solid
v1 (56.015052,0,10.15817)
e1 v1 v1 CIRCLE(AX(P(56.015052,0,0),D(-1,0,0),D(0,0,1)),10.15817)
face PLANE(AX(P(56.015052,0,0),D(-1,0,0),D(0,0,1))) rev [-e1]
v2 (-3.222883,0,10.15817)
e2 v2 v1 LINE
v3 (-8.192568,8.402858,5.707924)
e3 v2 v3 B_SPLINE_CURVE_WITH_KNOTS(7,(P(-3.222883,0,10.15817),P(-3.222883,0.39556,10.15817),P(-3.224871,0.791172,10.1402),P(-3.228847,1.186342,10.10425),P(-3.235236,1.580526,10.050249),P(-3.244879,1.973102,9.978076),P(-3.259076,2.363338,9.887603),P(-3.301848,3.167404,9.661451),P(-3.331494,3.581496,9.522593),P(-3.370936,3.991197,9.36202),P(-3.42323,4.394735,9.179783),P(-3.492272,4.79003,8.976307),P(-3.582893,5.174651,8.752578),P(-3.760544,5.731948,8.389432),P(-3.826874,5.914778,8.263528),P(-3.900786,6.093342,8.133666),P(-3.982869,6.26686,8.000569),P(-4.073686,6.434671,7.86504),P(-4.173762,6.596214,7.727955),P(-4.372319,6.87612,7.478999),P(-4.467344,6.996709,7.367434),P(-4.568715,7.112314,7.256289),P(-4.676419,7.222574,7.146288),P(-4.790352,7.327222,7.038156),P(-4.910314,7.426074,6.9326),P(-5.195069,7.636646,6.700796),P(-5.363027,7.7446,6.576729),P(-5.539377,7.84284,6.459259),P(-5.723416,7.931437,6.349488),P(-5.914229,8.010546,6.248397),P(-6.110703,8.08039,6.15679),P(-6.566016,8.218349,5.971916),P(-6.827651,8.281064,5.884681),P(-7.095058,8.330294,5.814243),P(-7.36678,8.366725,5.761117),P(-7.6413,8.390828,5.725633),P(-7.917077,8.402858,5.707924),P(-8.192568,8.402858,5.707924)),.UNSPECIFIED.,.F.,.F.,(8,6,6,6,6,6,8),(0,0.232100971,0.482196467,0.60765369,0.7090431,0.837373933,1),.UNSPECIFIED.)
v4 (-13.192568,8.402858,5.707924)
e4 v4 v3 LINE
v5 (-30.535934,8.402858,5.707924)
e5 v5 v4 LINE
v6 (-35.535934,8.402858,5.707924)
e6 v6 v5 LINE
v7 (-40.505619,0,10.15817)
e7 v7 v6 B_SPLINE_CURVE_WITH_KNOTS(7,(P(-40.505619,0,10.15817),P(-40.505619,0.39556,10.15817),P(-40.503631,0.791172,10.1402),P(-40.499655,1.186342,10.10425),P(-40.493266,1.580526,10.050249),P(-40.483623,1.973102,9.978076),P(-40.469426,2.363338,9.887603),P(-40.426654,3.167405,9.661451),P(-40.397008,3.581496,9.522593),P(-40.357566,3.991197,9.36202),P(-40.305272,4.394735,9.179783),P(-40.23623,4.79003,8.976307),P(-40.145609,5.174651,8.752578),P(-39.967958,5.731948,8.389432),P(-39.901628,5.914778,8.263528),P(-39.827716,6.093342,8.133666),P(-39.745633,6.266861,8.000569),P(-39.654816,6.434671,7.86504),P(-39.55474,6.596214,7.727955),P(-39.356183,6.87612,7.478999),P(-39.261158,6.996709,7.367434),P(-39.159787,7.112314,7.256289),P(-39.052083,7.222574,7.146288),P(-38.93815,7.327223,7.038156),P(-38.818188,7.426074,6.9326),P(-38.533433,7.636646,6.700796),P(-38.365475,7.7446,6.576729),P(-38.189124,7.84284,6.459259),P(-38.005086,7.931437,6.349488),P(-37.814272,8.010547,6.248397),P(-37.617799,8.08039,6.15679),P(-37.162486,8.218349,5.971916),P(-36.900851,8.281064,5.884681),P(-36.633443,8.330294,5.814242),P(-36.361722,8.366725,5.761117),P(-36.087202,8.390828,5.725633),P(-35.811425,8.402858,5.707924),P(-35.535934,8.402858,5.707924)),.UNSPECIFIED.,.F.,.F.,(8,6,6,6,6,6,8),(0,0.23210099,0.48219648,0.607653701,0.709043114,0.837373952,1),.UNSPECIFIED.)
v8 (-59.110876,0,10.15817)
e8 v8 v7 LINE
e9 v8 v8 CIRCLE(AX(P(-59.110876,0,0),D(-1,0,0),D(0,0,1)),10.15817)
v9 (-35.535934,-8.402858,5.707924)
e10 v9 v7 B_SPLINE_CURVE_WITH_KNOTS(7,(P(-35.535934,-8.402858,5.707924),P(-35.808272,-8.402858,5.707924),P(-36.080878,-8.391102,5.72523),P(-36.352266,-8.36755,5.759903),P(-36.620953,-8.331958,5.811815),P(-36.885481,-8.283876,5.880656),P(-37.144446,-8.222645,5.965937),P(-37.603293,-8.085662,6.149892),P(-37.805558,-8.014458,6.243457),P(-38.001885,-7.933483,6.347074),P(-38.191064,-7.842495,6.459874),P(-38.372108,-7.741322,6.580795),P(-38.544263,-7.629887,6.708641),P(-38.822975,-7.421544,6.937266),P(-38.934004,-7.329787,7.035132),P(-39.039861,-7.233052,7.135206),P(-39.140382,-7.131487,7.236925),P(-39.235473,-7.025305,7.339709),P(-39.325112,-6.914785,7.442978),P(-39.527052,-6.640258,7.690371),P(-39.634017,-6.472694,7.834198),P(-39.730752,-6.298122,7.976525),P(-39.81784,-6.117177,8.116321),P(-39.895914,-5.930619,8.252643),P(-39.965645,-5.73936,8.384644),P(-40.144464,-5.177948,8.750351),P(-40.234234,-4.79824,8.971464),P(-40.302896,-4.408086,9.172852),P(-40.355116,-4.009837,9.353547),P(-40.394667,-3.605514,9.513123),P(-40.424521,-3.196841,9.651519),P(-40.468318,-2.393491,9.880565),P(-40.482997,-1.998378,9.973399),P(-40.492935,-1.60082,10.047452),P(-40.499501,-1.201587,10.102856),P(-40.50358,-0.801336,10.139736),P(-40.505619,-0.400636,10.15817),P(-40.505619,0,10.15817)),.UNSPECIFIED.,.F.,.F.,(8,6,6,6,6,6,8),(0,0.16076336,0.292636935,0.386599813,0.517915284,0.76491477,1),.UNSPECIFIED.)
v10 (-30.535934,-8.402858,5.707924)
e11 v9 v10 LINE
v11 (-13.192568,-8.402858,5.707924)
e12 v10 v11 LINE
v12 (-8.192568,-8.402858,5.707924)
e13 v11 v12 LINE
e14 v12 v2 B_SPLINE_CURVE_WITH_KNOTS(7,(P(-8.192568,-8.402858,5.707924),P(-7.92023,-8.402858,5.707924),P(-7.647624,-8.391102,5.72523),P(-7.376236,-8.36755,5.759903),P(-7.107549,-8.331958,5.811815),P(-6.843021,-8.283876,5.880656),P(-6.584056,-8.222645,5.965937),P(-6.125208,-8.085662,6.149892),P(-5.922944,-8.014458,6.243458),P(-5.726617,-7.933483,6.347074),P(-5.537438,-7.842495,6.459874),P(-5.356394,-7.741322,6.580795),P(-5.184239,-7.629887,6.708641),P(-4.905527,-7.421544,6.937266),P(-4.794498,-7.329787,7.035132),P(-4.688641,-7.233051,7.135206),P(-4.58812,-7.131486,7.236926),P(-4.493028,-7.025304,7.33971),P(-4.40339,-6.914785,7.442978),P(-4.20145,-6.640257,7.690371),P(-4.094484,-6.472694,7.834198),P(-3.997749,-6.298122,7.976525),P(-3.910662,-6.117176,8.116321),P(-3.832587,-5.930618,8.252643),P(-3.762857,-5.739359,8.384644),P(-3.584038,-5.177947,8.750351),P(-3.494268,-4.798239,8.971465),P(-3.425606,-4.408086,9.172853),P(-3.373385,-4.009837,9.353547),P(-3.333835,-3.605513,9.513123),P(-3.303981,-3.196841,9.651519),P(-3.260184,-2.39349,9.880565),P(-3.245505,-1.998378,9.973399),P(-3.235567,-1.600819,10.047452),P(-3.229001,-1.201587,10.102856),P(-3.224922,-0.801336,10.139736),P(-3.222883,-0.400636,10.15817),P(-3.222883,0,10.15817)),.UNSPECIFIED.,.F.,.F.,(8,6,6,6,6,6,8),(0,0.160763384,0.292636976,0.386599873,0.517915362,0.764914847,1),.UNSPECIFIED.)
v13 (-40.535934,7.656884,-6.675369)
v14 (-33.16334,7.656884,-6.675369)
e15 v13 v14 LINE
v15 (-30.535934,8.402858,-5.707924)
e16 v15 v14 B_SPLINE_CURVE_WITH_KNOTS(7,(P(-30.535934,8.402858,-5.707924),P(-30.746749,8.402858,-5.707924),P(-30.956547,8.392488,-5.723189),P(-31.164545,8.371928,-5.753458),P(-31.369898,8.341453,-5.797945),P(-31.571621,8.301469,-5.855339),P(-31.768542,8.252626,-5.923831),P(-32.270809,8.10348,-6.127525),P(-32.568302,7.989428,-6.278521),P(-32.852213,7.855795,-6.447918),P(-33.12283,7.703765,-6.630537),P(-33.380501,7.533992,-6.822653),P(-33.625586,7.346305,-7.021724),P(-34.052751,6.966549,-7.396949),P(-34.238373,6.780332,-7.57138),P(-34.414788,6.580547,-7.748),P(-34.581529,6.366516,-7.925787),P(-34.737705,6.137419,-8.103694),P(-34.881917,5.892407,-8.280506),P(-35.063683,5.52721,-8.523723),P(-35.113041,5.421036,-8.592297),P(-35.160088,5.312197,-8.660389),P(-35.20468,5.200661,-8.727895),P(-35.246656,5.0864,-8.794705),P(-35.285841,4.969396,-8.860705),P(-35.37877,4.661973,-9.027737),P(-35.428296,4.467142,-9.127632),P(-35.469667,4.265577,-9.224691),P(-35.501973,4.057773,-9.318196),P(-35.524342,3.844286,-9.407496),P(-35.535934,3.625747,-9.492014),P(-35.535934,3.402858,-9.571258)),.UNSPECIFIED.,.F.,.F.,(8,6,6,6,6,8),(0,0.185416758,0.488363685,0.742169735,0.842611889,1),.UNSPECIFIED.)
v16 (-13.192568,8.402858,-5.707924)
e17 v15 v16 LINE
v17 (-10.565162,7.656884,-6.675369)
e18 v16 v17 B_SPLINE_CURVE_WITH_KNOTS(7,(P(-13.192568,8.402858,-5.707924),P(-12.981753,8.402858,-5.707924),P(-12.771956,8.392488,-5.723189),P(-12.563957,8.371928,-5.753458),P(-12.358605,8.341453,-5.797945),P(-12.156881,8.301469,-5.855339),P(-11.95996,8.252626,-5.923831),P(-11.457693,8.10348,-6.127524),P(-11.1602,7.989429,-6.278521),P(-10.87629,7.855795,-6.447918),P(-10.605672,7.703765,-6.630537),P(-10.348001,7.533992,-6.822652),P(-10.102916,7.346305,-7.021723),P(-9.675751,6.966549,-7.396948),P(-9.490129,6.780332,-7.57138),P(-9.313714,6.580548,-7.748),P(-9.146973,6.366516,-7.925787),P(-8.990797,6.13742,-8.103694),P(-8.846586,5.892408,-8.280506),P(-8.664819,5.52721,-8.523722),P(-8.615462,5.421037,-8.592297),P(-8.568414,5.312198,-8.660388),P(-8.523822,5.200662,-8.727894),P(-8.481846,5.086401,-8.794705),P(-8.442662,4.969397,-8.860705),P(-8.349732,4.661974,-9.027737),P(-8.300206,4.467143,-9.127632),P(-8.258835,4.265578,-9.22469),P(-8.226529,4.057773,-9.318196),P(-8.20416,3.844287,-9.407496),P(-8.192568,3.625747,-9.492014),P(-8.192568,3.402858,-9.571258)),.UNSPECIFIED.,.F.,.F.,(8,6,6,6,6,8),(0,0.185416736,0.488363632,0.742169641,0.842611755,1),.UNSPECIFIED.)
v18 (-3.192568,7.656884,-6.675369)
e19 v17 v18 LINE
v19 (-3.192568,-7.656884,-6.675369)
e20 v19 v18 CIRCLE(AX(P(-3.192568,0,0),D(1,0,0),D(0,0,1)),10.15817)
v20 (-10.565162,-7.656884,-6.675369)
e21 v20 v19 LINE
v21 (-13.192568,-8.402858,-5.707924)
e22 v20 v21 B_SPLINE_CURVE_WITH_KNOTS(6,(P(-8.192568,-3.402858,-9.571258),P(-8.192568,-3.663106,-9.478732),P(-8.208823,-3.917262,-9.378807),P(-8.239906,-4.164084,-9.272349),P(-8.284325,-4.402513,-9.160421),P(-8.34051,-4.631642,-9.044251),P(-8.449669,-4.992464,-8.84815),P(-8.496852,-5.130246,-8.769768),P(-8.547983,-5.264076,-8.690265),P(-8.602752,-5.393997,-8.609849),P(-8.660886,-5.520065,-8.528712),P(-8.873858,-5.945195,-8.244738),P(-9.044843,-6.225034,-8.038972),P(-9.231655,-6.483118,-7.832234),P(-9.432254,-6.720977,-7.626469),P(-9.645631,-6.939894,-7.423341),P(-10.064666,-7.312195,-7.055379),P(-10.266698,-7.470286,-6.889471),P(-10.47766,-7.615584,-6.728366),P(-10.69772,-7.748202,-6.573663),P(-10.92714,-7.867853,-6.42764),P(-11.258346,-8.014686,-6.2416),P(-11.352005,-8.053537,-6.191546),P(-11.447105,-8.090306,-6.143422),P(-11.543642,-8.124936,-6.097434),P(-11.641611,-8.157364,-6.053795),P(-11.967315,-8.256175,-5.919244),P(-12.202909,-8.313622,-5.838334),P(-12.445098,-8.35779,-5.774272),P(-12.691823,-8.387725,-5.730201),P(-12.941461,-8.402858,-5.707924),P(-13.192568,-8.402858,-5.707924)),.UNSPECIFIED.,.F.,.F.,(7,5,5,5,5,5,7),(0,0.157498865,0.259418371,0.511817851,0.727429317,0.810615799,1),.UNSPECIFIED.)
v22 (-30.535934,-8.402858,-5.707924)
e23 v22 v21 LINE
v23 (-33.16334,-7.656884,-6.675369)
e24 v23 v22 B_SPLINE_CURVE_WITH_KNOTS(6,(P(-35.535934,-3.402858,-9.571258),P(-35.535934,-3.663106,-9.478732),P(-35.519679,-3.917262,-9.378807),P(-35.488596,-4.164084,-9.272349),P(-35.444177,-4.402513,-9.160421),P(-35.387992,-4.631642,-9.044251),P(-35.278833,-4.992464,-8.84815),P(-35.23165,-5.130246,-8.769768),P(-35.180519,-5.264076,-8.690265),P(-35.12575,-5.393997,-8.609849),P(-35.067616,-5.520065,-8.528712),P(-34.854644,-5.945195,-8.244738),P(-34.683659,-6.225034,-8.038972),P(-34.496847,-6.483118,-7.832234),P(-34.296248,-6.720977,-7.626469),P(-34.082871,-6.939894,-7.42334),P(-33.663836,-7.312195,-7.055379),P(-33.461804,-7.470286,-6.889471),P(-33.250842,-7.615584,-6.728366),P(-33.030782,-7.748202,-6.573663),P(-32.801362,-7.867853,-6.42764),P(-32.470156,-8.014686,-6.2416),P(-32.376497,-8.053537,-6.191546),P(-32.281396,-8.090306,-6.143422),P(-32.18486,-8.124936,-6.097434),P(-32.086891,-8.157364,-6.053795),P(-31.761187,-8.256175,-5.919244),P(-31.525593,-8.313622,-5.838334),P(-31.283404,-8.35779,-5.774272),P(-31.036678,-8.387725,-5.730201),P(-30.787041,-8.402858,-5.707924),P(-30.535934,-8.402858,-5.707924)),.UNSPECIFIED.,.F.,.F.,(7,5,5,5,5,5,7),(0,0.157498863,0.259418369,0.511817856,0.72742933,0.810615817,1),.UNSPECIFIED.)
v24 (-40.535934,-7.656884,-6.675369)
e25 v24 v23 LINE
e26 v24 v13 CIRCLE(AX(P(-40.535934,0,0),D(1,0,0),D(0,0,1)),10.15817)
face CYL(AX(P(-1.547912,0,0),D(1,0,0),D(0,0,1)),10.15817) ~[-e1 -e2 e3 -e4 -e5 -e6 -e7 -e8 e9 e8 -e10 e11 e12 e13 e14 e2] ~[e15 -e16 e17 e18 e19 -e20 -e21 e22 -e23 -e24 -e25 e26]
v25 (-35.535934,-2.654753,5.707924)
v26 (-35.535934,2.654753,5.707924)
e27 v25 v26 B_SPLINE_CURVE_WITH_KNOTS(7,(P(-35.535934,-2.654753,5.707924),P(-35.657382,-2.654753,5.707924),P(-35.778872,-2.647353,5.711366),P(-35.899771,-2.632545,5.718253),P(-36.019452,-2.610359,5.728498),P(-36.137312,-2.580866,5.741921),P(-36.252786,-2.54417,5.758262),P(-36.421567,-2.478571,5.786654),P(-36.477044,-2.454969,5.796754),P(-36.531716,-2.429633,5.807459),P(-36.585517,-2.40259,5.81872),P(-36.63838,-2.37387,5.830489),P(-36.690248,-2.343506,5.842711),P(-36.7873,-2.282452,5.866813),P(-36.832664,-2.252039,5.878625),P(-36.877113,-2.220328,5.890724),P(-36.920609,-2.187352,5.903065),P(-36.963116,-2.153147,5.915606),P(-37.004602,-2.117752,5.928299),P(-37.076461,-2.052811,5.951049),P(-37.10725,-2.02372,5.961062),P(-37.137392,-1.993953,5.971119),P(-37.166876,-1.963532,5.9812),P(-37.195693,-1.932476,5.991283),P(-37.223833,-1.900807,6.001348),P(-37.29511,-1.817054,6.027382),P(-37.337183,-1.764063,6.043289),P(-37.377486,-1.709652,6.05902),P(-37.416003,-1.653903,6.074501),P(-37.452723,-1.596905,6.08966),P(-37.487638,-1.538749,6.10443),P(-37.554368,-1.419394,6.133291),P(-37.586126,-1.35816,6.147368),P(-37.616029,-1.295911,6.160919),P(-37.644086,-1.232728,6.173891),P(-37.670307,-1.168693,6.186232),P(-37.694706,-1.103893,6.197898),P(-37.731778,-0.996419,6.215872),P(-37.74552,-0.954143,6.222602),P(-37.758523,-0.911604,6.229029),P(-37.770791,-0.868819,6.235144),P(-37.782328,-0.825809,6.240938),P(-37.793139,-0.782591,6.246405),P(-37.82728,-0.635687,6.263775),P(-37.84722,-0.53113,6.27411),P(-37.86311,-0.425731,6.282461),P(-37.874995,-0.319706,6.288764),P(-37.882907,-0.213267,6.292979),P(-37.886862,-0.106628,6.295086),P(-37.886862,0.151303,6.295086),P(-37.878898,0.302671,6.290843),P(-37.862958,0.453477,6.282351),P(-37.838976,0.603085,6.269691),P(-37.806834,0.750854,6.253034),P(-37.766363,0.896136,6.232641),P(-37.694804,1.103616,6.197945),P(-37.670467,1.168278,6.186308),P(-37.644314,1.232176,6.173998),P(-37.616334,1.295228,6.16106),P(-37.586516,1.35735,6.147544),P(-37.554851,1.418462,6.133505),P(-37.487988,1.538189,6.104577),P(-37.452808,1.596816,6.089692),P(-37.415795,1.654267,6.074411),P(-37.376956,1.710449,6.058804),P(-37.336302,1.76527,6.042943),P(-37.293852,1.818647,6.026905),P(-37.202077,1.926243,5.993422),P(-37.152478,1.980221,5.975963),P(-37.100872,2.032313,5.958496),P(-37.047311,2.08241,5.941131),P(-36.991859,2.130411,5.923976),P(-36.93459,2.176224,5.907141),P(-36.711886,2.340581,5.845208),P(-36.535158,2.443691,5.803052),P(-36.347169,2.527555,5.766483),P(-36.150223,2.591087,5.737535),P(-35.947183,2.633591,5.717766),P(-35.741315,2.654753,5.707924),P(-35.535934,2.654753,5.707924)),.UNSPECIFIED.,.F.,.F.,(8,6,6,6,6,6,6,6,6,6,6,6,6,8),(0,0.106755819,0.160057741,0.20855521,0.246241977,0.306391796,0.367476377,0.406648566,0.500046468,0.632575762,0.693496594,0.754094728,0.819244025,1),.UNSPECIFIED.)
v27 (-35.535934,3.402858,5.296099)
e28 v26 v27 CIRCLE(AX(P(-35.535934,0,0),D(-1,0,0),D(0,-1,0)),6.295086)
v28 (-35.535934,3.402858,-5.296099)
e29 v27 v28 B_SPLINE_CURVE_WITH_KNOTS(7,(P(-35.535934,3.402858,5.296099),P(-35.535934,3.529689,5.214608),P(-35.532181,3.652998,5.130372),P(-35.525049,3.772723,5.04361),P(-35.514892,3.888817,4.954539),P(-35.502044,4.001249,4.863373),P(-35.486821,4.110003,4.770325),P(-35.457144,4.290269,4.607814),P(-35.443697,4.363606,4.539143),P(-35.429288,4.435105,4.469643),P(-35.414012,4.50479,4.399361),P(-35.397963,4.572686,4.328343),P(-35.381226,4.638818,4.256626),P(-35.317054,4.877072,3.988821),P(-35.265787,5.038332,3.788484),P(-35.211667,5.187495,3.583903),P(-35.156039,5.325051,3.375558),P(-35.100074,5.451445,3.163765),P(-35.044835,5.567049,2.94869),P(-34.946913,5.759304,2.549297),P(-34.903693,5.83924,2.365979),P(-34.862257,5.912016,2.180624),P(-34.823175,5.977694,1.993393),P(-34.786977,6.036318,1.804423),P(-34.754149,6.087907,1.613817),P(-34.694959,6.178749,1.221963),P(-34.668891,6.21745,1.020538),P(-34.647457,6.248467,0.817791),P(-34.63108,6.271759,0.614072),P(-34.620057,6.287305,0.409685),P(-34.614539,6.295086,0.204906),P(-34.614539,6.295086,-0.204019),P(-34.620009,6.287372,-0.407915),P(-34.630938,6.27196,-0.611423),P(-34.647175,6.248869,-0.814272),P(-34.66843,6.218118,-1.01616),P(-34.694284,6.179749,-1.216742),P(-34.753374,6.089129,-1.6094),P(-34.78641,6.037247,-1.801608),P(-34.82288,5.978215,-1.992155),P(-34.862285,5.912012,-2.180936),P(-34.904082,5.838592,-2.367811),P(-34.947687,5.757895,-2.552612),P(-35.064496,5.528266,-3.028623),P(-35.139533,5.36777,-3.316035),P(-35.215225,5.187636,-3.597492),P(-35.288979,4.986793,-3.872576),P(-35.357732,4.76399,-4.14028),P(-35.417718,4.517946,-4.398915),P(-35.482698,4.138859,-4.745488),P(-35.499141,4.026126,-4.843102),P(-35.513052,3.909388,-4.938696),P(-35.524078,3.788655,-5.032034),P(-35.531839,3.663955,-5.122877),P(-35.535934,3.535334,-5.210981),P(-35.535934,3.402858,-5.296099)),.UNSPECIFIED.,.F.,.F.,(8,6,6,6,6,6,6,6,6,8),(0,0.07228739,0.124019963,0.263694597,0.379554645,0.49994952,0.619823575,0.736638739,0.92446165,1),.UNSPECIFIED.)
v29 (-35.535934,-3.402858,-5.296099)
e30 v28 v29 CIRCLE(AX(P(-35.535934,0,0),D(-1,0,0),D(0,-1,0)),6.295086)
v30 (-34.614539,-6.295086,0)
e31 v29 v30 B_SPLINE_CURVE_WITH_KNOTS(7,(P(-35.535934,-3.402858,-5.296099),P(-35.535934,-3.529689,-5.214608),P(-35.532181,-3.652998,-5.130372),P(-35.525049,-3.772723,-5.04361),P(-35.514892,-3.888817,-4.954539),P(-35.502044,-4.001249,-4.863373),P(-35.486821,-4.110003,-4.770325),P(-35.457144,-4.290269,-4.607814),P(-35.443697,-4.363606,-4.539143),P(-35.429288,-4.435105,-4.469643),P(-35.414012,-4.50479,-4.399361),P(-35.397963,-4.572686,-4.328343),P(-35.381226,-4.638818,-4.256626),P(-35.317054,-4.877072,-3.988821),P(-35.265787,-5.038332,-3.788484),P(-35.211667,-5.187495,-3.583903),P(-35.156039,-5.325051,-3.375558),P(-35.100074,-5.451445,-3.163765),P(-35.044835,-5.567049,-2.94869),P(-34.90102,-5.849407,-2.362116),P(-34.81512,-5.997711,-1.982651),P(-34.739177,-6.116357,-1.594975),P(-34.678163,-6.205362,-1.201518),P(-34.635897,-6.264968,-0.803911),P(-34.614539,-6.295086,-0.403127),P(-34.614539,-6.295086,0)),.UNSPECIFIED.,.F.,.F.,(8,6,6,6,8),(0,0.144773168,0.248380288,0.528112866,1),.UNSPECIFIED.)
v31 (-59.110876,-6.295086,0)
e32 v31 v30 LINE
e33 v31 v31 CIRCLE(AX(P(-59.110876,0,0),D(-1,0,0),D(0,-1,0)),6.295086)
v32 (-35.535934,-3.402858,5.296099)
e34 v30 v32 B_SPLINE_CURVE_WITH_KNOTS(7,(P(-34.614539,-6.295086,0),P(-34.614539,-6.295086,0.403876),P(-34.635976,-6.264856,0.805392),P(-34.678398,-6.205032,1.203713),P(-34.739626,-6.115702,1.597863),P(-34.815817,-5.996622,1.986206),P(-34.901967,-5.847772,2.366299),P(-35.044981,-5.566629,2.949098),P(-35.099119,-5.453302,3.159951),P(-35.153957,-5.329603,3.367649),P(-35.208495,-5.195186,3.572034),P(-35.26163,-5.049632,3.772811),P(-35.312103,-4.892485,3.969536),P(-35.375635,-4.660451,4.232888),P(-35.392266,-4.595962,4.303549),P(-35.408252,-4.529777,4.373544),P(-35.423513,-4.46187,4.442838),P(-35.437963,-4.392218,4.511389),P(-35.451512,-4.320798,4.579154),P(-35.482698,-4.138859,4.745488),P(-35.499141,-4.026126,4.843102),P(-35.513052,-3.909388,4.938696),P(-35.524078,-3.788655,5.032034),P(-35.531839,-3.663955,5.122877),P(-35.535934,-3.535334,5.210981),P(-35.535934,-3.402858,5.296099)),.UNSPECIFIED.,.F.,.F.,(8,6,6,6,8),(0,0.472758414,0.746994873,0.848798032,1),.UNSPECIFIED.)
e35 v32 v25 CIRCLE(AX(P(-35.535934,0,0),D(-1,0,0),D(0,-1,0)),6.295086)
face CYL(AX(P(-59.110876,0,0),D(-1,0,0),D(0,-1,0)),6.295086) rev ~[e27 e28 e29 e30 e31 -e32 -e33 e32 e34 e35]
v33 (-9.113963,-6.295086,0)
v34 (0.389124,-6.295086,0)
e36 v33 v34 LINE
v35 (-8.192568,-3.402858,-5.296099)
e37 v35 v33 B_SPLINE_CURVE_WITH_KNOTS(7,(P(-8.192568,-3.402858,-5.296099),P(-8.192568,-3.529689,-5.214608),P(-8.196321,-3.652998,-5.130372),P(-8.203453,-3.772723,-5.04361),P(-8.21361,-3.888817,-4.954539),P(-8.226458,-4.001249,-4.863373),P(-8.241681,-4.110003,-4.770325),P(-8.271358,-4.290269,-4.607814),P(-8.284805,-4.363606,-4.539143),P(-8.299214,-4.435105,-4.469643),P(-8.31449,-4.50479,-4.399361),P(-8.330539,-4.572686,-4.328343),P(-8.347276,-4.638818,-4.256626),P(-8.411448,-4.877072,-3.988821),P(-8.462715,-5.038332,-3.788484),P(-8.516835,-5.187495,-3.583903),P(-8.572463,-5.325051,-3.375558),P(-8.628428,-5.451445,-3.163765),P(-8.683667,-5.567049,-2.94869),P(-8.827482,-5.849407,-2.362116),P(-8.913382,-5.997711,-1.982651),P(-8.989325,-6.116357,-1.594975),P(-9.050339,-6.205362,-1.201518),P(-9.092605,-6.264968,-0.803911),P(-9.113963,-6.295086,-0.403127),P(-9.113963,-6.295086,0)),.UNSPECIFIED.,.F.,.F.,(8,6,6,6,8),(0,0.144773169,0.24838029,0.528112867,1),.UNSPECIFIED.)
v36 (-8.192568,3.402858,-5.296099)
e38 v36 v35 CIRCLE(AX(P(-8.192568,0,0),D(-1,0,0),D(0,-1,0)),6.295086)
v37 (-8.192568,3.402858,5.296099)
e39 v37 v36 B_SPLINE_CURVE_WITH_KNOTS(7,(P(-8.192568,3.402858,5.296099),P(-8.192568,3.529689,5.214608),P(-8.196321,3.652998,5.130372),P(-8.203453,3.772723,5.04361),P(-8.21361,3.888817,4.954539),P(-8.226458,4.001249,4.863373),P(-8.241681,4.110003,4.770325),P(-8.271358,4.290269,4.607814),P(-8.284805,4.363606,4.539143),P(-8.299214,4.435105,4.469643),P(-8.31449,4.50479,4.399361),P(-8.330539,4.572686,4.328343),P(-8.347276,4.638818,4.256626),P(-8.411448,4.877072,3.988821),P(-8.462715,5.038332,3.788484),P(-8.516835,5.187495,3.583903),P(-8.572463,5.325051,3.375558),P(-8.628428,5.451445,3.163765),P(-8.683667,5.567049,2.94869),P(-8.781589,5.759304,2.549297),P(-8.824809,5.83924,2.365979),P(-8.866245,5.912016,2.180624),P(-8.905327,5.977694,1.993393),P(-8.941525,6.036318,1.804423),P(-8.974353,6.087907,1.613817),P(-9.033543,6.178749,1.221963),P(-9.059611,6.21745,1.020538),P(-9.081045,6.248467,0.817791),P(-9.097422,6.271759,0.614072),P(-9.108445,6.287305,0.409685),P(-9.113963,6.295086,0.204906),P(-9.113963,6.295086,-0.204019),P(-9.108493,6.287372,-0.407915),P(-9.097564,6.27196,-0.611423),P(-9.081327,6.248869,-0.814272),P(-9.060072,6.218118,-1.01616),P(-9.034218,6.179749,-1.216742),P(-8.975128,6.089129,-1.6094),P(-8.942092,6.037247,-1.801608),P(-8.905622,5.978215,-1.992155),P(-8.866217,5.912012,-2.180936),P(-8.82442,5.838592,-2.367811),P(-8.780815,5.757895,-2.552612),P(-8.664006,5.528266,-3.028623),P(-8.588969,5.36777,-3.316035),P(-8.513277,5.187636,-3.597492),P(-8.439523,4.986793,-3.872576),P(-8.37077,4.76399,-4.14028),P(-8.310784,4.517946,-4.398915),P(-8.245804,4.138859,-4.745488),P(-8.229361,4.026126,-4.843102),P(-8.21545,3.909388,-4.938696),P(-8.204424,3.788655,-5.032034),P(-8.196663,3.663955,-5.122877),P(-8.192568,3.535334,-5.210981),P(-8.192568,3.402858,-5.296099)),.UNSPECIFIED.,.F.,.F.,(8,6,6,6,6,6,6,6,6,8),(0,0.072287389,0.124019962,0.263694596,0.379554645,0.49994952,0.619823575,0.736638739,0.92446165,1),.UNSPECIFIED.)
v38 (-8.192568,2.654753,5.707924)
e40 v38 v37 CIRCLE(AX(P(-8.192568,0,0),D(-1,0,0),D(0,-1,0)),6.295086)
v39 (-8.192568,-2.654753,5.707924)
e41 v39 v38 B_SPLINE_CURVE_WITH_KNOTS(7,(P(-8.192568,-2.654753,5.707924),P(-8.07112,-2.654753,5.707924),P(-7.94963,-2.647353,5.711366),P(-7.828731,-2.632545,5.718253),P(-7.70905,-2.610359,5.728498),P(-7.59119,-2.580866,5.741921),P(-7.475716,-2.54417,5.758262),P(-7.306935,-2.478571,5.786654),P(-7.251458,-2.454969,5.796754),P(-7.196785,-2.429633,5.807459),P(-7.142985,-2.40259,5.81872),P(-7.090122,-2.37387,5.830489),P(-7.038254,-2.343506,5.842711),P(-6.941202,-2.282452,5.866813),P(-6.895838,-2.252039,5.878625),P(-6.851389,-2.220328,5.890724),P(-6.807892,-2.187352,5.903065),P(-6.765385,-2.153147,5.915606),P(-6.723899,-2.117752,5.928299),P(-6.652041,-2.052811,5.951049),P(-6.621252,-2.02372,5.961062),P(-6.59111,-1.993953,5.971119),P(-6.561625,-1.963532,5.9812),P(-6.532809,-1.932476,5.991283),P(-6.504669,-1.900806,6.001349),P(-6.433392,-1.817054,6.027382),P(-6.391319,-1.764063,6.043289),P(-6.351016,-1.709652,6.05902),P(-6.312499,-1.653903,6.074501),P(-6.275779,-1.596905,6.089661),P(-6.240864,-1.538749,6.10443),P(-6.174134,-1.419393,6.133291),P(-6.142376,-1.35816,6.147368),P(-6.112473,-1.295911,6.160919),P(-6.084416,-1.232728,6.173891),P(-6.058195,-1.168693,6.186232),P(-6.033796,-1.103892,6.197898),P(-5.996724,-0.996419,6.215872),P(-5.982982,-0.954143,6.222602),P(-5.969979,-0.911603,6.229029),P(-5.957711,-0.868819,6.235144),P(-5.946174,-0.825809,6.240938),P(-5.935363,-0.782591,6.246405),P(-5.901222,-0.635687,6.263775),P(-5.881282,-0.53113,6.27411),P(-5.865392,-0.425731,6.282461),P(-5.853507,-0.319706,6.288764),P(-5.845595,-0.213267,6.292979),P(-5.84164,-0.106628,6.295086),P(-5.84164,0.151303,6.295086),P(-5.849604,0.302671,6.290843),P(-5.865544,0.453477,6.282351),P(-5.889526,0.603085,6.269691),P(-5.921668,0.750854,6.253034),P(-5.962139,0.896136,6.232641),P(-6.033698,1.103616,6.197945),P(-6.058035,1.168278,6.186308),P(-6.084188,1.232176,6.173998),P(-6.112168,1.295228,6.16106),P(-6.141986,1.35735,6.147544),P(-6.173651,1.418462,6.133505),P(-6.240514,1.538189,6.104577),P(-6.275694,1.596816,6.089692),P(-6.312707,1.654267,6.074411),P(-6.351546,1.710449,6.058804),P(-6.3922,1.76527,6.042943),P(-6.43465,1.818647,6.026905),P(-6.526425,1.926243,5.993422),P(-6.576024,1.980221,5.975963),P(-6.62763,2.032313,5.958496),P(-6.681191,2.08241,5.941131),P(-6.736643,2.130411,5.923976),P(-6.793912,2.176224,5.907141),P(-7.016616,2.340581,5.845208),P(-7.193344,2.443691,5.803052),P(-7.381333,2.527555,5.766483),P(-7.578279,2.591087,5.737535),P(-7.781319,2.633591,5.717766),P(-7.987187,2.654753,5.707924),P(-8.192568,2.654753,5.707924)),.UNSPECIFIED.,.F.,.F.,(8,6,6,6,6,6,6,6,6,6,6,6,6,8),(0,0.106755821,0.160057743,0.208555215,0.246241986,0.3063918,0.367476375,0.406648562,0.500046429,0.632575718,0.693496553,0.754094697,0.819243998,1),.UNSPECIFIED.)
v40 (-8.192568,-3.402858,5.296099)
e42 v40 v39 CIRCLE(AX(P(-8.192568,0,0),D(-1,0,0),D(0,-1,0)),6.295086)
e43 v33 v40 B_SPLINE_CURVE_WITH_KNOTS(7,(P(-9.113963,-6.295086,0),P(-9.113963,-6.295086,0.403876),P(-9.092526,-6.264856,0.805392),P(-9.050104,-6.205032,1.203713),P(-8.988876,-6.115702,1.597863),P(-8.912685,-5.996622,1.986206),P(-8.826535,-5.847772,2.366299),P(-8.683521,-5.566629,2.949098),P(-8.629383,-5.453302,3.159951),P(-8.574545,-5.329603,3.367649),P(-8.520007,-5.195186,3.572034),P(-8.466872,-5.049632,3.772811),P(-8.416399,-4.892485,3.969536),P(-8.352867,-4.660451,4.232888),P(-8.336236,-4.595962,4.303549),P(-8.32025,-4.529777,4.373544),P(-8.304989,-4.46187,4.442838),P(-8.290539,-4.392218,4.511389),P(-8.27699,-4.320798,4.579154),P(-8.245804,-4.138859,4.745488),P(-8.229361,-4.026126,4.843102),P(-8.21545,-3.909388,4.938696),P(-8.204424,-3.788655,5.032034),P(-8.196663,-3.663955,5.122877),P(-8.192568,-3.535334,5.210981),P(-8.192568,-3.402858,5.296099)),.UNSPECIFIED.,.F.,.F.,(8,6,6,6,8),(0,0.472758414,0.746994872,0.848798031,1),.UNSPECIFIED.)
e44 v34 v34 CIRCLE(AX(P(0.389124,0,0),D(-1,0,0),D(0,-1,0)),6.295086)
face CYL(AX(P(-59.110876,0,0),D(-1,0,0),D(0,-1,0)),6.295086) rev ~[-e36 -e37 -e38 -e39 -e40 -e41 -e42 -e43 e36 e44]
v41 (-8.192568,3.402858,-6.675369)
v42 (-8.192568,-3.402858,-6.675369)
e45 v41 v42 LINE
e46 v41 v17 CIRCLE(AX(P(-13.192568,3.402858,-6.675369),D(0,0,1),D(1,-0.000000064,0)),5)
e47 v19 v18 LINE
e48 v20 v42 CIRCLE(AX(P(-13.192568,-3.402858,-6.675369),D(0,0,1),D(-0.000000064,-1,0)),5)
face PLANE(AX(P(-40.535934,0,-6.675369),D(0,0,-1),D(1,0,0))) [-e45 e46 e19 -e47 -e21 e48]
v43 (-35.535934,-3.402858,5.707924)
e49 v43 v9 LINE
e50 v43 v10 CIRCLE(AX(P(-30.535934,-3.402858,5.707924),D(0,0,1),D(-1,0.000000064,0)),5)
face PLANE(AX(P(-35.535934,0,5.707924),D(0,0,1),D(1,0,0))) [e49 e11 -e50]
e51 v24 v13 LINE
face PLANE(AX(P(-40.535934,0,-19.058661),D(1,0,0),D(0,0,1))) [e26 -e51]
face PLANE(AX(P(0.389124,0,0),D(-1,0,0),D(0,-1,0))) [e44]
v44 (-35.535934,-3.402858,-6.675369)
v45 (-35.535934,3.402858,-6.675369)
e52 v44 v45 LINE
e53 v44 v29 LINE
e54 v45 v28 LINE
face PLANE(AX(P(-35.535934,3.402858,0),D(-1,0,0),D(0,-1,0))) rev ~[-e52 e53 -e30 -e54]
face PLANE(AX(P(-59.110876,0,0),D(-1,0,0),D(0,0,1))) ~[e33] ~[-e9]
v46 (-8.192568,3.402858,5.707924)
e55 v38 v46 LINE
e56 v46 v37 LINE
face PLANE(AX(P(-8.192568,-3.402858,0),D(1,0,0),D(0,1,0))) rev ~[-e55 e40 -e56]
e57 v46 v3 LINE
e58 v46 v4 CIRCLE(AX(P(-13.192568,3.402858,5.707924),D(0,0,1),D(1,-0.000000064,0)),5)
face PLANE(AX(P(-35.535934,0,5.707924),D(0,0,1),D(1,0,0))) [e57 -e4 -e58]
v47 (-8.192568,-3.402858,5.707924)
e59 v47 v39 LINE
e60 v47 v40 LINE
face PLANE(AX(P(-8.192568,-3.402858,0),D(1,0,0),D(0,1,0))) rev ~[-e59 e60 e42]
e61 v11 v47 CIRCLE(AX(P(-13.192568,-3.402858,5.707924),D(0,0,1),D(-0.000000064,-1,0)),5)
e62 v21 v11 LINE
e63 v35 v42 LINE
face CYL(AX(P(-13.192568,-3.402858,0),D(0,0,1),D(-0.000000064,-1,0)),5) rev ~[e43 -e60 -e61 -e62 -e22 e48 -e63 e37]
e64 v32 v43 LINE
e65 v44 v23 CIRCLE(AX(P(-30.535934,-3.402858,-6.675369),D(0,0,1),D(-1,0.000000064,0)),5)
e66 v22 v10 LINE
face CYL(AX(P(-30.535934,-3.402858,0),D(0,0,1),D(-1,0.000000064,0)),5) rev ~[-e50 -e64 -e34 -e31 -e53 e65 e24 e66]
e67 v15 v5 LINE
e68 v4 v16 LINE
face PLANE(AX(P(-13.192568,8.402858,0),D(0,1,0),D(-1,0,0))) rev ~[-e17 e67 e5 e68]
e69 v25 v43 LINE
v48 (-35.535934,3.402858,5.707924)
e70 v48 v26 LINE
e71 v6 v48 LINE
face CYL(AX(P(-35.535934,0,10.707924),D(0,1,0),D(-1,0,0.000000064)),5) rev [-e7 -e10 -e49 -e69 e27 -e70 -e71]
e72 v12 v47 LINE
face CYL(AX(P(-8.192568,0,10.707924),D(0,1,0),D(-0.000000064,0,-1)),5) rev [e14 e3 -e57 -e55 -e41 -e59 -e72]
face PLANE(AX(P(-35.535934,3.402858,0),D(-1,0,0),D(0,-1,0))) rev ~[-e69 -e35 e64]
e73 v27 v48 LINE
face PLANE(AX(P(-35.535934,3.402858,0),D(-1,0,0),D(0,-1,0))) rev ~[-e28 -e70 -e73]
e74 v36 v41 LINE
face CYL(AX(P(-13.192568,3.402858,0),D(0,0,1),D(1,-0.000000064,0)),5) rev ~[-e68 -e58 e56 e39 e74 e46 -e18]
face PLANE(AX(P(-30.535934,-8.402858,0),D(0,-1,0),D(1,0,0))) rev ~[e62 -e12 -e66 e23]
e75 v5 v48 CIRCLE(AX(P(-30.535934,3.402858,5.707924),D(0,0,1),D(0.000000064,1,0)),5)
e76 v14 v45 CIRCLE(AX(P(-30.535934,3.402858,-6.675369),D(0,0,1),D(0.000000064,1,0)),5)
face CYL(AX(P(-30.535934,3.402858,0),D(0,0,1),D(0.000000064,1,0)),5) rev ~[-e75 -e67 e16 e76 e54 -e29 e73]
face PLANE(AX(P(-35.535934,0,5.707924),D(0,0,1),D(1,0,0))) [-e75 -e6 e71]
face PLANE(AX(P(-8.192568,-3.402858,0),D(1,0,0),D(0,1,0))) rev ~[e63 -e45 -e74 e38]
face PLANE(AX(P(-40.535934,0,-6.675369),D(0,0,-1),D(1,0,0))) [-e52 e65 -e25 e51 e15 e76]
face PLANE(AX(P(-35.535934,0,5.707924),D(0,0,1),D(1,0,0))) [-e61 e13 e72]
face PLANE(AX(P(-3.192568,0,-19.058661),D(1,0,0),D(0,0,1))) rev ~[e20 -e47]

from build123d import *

# Parameters (mm, degrees)
F0_W     = 115.125928
F0_H     = 10.15817
F2_W     = 37.343366
F2_H     = 12.383293
F3_DEPTH = 25
F4_R     = 6.295086
F5_DEPTH = 59.5
F7_DEPTH = 25


with BuildPart() as f1:
    # F0 (on Front) → F1 (revolve)
    with BuildSketch(Plane.XZ):
        with Locations((-1.547912, 5.079085)):
            Rectangle(F0_W, F0_H)
    revolve(axis=Axis((-1.547912, 0, 0), (-1, 0, 0)))

    # F2 (on Front) → F3 (cut, symmetric)
    with BuildSketch(Plane.XZ):
        with BuildLine():
            Line((-3.192568, 19.639129), (-40.535934, 19.639129))
            Line((-40.535934, 19.639129), (-40.535934, 10.707924))
            ThreePointArc((-40.535934, 10.707924), (-39.071468, 7.17239), (-35.535934, 5.707924))
            Line((-35.535934, 5.707924), (-8.192568, 5.707924))
            ThreePointArc((-8.192568, 5.707924), (-4.657034, 7.17239), (-3.192568, 10.707924))
            Line((-3.192568, 10.707924), (-3.192568, 19.639129))
        make_face()
        with Locations((-21.864251, -12.867015)):
            Rectangle(F2_W, F2_H)
    extrude(amount=F3_DEPTH, both=True, mode=Mode.SUBTRACT)

    # F4 (on face) → F5 (cut)
    with BuildSketch(Plane(origin=(-59.110876, 0, 0), x_dir=(0, -1, 0), z_dir=(-1, 0, 0))):
        Circle(F4_R)
    extrude(amount=-F5_DEPTH, mode=Mode.SUBTRACT)

    # F6 (on Top) → F7 (cut, symmetric)
    with BuildSketch(Plane.XY):
        with BuildLine():
            Line((-13.192568, 8.402858), (-30.535934, 8.402858))
            ThreePointArc((-30.535934, 8.402858), (-34.071468, 6.938392), (-35.535934, 3.402858))
            Line((-35.535934, 3.402858), (-35.535934, -3.402858))
            ThreePointArc((-35.535934, -3.402858), (-34.071468, -6.938392), (-30.535934, -8.402858))
            Line((-30.535934, -8.402858), (-13.192568, -8.402858))
            ThreePointArc((-13.192568, -8.402858), (-9.657034, -6.938392), (-8.192568, -3.402858))
            Line((-8.192568, -3.402858), (-8.192568, 3.402858))
            ThreePointArc((-8.192568, 3.402858), (-9.657034, 6.938392), (-13.192568, 8.402858))
        make_face()
    extrude(amount=F7_DEPTH, both=True, mode=Mode.SUBTRACT)


solid = f1.part
